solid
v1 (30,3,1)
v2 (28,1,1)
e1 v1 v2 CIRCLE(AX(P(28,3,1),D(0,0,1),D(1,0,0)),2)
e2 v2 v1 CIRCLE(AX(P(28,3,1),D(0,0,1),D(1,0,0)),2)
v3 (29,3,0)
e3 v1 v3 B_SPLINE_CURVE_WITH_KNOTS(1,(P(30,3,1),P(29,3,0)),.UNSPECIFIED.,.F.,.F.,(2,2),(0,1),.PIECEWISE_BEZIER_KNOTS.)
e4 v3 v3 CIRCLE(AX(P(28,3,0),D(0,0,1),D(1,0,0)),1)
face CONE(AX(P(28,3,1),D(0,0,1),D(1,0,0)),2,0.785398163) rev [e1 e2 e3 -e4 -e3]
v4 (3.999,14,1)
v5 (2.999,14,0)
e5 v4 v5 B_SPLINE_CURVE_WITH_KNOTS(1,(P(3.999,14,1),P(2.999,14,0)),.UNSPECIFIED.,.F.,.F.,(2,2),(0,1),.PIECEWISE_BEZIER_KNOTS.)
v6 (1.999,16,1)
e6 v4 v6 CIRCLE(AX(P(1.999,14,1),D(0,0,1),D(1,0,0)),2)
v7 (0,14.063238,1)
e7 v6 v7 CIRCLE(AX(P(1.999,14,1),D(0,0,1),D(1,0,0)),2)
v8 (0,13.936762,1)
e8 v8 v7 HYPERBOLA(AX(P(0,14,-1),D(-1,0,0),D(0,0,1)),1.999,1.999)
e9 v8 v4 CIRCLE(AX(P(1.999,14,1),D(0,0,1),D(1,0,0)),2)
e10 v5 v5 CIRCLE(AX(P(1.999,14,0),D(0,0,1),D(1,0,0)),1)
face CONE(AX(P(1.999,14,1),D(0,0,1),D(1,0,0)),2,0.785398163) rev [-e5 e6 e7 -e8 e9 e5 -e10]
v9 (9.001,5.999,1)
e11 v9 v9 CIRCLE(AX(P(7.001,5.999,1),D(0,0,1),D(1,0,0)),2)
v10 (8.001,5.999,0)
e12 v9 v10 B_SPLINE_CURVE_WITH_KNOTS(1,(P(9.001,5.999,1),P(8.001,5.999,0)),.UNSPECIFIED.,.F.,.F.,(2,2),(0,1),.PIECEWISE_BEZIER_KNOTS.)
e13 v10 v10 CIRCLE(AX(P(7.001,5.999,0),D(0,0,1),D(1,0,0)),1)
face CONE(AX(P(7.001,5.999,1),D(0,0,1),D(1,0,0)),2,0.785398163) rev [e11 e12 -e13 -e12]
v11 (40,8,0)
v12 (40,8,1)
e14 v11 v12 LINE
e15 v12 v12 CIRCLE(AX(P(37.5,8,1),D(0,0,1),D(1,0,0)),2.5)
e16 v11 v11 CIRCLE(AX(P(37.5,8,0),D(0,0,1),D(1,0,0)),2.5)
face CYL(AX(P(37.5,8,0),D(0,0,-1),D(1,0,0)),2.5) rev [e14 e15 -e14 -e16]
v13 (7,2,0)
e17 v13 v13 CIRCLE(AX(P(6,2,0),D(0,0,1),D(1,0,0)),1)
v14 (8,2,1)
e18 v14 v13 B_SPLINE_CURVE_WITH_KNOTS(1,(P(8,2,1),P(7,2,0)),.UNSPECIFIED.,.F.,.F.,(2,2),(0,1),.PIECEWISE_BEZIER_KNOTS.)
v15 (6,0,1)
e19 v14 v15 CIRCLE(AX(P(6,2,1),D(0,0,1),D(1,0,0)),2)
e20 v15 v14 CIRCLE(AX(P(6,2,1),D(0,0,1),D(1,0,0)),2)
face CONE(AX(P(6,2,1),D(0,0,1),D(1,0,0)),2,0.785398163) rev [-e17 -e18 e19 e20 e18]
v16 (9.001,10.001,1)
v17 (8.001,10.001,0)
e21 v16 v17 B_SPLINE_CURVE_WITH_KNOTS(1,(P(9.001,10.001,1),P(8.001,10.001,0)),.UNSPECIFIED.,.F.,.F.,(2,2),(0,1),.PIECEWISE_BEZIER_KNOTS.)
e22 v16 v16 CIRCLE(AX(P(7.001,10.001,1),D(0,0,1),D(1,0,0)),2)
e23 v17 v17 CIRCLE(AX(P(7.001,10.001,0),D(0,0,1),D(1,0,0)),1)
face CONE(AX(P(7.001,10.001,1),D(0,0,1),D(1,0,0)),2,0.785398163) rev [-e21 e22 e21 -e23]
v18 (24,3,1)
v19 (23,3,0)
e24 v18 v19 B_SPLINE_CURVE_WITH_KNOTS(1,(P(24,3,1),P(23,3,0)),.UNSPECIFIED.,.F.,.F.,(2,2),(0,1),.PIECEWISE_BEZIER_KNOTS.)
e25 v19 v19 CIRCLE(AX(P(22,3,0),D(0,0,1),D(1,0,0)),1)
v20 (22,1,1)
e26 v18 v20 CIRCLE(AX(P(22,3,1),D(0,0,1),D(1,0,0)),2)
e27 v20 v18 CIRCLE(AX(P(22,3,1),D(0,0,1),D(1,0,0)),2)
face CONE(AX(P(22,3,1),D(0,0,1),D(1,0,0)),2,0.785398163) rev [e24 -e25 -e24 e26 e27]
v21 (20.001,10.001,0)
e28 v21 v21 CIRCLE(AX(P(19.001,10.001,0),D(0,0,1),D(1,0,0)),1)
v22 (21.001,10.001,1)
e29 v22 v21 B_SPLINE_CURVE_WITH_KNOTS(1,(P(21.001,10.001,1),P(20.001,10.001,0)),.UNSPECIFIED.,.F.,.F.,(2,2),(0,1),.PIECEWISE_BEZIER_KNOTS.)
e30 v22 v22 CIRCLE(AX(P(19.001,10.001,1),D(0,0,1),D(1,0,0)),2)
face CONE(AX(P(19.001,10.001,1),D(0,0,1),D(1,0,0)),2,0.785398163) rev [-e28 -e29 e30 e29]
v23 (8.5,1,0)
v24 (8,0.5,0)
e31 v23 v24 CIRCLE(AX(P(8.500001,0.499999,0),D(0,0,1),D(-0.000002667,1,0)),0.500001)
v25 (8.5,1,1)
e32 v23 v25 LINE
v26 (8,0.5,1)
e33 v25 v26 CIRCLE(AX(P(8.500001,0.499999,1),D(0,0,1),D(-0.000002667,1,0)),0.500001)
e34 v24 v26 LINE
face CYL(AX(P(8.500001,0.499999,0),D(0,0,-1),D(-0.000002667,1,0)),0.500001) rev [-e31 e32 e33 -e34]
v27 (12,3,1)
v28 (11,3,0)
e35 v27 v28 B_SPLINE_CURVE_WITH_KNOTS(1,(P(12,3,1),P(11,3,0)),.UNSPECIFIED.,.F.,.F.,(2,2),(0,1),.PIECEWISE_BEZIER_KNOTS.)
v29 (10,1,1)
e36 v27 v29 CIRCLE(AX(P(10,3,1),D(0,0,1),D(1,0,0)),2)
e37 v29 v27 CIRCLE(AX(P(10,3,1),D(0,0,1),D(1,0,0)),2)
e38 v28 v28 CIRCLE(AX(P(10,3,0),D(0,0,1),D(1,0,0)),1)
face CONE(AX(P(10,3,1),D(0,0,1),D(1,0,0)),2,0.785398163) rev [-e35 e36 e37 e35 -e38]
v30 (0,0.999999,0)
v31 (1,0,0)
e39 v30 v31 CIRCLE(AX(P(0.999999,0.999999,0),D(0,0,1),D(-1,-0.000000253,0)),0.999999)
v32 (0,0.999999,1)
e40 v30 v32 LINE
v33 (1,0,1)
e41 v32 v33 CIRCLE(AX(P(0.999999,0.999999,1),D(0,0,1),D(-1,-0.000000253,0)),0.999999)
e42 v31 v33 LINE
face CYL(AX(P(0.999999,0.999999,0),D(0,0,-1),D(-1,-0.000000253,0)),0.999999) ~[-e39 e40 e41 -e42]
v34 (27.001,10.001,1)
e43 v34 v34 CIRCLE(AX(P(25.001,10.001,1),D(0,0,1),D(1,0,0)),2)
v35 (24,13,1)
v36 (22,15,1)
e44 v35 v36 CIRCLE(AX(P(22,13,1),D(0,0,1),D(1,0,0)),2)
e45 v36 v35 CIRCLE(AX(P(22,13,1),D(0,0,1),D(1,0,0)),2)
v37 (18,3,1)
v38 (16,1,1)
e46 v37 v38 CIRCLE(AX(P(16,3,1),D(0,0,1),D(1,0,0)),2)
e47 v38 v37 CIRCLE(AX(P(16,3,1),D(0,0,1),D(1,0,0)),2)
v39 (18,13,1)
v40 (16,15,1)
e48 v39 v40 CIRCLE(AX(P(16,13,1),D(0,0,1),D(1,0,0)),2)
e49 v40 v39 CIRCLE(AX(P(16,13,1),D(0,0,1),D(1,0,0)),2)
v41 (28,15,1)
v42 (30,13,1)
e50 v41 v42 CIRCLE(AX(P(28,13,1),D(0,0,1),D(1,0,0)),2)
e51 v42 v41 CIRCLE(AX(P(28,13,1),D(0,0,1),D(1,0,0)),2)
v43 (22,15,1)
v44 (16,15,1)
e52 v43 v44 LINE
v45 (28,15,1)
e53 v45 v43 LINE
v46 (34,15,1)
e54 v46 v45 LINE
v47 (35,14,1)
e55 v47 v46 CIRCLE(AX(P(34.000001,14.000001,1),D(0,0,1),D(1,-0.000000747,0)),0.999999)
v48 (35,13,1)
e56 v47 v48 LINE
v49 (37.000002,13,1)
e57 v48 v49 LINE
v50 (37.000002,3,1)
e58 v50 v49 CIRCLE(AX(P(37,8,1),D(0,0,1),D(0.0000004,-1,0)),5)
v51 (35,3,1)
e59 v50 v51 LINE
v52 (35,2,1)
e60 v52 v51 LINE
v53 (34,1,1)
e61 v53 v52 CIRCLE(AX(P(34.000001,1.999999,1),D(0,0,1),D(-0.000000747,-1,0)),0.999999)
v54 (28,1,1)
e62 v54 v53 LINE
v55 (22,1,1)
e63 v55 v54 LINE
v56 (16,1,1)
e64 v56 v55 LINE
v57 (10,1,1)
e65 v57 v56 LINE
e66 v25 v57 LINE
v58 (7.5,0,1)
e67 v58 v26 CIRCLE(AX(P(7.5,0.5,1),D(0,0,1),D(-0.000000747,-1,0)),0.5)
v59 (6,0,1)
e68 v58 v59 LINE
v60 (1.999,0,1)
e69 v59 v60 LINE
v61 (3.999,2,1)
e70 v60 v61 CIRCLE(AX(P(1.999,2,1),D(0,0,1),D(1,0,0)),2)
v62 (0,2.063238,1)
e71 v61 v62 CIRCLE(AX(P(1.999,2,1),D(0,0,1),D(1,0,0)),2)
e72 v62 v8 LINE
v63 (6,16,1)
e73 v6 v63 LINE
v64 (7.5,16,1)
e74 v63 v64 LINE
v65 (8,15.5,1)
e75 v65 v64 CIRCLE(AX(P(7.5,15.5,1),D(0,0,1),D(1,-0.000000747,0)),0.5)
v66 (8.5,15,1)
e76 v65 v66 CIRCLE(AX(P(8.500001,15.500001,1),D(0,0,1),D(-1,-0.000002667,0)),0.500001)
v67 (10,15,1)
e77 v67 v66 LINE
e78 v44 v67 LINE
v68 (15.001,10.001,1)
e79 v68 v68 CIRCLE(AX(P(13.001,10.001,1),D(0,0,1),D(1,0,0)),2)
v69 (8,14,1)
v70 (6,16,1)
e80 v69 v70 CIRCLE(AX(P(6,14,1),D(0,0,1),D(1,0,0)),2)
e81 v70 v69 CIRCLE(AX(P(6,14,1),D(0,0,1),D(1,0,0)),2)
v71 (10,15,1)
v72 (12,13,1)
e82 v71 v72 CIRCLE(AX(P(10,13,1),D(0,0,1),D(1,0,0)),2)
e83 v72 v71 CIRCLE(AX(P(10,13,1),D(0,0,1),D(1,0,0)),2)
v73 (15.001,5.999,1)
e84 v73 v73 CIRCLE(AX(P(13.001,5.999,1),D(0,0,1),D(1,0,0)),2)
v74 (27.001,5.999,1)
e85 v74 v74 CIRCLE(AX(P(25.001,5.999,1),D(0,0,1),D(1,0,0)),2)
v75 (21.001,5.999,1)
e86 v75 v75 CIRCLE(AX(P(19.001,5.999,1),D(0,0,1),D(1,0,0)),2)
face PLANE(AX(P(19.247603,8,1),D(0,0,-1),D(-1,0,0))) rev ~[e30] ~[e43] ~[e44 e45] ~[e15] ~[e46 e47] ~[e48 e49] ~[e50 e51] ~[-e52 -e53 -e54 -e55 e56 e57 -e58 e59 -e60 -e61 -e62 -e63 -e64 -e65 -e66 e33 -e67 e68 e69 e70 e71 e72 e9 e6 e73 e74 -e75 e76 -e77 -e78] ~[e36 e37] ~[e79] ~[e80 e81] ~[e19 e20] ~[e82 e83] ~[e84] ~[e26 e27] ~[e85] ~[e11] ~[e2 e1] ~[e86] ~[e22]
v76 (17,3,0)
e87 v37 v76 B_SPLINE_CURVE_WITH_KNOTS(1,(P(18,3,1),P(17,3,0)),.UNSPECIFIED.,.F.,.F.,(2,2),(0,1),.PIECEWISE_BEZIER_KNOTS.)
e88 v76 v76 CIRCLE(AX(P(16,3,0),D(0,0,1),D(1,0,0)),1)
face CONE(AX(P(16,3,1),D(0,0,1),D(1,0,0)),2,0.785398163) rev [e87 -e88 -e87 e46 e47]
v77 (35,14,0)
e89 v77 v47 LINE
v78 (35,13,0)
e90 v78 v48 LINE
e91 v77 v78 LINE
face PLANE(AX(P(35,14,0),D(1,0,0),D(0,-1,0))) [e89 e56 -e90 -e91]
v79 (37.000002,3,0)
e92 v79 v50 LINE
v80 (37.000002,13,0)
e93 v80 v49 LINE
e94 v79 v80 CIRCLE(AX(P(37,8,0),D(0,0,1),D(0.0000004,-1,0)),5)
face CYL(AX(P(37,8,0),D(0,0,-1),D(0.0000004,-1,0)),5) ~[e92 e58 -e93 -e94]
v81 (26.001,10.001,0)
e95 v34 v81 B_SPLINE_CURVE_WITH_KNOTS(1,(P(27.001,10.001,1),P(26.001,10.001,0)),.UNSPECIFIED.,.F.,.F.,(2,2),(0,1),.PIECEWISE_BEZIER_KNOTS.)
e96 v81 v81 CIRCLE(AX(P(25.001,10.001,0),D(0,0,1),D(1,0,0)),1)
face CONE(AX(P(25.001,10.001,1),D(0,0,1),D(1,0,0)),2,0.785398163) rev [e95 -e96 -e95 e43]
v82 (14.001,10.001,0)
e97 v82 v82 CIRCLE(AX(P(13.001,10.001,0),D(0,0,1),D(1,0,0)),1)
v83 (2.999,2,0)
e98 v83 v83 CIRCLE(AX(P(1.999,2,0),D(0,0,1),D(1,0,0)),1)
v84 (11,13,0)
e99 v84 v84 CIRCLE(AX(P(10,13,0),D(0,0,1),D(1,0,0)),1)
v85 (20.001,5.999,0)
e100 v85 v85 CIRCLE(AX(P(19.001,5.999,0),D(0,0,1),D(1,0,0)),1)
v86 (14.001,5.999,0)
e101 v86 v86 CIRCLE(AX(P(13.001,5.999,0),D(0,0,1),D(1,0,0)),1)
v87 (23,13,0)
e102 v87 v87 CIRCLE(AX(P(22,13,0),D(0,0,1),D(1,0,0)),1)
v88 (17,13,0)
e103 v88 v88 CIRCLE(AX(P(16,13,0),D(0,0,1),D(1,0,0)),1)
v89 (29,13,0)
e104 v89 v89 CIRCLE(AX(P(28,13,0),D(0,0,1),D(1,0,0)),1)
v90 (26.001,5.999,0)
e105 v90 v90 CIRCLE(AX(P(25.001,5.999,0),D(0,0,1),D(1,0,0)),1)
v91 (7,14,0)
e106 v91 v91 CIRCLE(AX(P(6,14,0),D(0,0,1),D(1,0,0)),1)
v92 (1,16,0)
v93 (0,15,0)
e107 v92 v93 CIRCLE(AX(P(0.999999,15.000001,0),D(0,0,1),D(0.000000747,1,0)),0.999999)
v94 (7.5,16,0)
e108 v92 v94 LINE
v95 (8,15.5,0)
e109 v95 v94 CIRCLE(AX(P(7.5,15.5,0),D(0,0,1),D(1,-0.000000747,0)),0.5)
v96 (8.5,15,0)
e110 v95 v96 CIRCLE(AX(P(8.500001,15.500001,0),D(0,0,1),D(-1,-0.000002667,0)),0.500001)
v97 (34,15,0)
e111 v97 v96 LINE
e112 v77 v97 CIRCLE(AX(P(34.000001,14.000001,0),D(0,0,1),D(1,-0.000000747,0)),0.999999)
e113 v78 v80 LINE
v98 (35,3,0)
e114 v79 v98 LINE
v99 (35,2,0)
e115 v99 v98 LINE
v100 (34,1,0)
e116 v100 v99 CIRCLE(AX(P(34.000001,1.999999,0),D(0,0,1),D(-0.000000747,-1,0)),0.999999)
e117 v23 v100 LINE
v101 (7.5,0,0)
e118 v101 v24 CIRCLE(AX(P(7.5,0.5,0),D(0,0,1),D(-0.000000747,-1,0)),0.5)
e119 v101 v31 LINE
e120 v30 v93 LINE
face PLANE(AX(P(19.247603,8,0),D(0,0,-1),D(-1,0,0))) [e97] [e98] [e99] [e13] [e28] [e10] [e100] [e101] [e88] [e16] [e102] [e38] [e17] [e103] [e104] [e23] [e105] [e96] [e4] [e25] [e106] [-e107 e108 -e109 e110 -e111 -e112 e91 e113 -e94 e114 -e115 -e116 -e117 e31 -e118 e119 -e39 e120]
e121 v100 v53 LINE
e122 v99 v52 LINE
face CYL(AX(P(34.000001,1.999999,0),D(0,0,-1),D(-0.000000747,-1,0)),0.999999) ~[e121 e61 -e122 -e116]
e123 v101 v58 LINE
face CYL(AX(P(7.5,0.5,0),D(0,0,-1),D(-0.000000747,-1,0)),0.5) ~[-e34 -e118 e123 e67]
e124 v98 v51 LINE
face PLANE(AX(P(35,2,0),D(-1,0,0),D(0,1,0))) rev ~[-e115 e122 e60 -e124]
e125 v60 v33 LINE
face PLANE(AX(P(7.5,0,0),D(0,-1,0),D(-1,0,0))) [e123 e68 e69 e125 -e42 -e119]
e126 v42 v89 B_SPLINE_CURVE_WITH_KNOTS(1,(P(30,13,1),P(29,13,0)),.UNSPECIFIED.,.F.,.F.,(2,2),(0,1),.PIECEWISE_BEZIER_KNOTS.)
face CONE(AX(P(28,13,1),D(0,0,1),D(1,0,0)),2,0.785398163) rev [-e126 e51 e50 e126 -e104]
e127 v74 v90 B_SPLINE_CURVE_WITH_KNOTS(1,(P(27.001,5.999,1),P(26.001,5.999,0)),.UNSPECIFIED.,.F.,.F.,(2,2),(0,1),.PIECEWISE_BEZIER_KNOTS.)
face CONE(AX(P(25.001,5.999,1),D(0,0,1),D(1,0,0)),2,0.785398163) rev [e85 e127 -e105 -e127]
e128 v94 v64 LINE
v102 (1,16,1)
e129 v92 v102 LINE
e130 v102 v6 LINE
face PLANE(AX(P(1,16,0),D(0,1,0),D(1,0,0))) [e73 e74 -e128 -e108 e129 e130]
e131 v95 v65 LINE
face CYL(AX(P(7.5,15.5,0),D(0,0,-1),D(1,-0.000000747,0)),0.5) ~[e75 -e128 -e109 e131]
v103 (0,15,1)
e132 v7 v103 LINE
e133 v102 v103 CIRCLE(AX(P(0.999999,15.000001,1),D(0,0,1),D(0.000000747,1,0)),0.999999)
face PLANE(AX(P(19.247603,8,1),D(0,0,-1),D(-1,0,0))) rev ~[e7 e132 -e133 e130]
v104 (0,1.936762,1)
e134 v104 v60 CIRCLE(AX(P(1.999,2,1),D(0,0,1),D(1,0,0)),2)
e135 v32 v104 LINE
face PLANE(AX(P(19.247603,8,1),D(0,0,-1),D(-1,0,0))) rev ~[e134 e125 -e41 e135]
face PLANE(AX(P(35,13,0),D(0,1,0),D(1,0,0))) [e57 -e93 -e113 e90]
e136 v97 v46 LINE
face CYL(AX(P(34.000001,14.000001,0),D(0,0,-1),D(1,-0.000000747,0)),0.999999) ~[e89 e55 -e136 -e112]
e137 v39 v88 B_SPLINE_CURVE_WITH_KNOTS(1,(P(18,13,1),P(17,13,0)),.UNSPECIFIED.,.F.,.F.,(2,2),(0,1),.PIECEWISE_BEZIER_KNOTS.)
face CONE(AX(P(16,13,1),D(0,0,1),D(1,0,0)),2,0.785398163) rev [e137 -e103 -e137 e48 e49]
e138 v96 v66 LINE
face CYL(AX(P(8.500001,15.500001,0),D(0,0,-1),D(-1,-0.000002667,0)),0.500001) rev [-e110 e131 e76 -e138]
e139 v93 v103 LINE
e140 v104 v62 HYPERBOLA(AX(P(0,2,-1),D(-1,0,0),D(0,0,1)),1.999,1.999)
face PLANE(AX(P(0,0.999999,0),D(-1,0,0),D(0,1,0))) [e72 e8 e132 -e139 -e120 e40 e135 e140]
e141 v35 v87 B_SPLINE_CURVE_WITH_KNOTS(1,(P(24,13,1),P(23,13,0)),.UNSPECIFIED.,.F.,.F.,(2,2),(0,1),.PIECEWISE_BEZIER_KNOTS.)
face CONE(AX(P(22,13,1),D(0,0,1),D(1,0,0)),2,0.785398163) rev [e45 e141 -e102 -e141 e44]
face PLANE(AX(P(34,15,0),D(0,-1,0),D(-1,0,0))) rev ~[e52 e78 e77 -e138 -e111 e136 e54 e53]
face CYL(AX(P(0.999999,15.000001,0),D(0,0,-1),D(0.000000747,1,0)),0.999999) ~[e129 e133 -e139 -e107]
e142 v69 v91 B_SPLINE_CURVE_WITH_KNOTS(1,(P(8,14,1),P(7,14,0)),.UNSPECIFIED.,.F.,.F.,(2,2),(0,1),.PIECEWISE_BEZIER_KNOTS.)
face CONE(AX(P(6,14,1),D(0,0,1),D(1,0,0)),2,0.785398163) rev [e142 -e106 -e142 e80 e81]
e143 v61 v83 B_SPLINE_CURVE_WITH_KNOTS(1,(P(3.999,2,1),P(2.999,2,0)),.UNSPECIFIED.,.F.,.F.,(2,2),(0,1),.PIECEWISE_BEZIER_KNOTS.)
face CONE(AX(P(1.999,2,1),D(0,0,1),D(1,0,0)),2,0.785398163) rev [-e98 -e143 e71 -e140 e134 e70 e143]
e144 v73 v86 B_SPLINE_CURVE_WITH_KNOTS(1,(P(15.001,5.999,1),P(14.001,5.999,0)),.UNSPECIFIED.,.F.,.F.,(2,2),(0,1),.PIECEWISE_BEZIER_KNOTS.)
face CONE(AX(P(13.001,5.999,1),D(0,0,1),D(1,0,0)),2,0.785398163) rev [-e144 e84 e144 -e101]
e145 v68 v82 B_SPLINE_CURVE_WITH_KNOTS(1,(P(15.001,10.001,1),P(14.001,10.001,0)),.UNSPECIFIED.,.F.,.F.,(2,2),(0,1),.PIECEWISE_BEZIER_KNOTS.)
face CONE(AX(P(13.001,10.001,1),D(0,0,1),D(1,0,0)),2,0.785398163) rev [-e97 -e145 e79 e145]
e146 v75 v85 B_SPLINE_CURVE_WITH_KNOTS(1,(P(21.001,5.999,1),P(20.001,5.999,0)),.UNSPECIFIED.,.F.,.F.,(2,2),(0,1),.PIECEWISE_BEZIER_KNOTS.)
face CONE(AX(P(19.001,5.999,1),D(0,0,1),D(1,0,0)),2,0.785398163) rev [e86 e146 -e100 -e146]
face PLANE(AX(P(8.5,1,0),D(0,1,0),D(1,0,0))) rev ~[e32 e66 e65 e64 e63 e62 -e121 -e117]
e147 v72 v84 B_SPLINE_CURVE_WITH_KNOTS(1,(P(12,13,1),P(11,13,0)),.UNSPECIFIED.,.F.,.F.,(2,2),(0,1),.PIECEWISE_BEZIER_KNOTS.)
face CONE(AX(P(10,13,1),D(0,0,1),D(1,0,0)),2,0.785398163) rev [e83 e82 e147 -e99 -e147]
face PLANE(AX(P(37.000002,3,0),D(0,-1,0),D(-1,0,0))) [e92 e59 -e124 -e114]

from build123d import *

# Parameters (mm, degrees)
SKETCH001_R      = 2.5
EXTRUDE001_DEPTH = 1
SKETCH035_R      = 2
SKETCH036_R      = 1
SKETCH040_R      = 2
SKETCH038_R      = 1
SKETCH041_R      = 2
SKETCH039_R      = 1
SKETCH037_R      = 2
SKETCH034_R      = 1
SKETCH017_R      = 2
SKETCH016_R      = 1
SKETCH011_R      = 2
SKETCH010_R      = 1
SKETCH025_R      = 2
SKETCH024_R      = 1
SKETCH019_R      = 2
SKETCH018_R      = 1
SKETCH015_R      = 2
SKETCH014_R      = 1
SKETCH023_R      = 2
SKETCH022_R      = 1
SKETCH021_R      = 2
SKETCH020_R      = 1
SKETCH013_R      = 2
SKETCH012_R      = 1
SKETCH029_R      = 2
SKETCH028_R      = 1
SKETCH031_R      = 2
SKETCH030_R      = 1
SKETCH033_R      = 2
SKETCH032_R      = 1
SKETCH027_R      = 2
SKETCH026_R      = 1
SKETCH005_R      = 2
SKETCH004_R      = 1
SKETCH009_R      = 2
SKETCH008_R      = 1
SKETCH002_R      = 2
SKETCH003_R      = 1
SKETCH007_R      = 2
SKETCH006_R      = 1
EXTRUDE_DEPTH    = 1


with BuildPart() as extrude001:
    # Sketch001 → Extrude001 (new body)
    with BuildSketch(Plane(origin=(-2, 0, 0), x_dir=(1, 0, 0), z_dir=(0, 0, 1))):
        with Locations((39.5, 8)):
            Circle(SKETCH001_R)
    extrude(amount=EXTRUDE001_DEPTH)


with BuildPart() as loft017:
    # Sketch035 → Loft017 section 0
    with BuildSketch(Plane.XY.offset(1)):
        with Locations((2, 2)):
            Circle(SKETCH035_R)
    # Sketch036 → Loft017 section 1
    with BuildSketch(Plane.XY):
        with Locations((2, 2)):
            Circle(SKETCH036_R)
    loft()


with BuildPart() as loft017_1:
    # Loft017 placement: moved
    add(loft017.part.moved(Location((14, 11, 0))))


with BuildPart() as loft018:
    # Sketch040 → Loft018 section 0
    with BuildSketch(Plane.XY.offset(1)):
        with Locations((2, 2)):
            Circle(SKETCH040_R)
    # Sketch038 → Loft018 section 1
    with BuildSketch(Plane.XY):
        with Locations((2, 2)):
            Circle(SKETCH038_R)
    loft()


with BuildPart() as loft018_1:
    # Loft018 placement: moved
    add(loft018.part.moved(Location((20, 11, 0))))


with BuildPart() as loft019:
    # Sketch041 → Loft019 section 0
    with BuildSketch(Plane.XY.offset(1)):
        with Locations((2, 2)):
            Circle(SKETCH041_R)
    # Sketch039 → Loft019 section 1
    with BuildSketch(Plane.XY):
        with Locations((2, 2)):
            Circle(SKETCH039_R)
    loft()


with BuildPart() as loft019_1:
    # Loft019 placement: moved
    add(loft019.part.moved(Location((26, 11, 0))))


with BuildPart() as fusion001:
    # Sketch037 → Loft016 section 0
    with BuildSketch(Plane.XY.offset(1)):
        with Locations((2, 2)):
            Circle(SKETCH037_R)
    # Sketch034 → Loft016 section 1
    with BuildSketch(Plane.XY):
        with Locations((2, 2)):
            Circle(SKETCH034_R)
    loft()


with BuildPart() as fusion001_1:
    # Loft016 placement: moved
    add(fusion001.part.moved(Location((8, 11, 0))))

    # Fusion001: union Loft017, Loft018, Loft019
    add(loft017_1.part)
    add(loft018_1.part)
    add(loft019_1.part)


with BuildPart() as loft007:
    # Sketch017 → Loft007 section 0
    with BuildSketch(Plane.XY.offset(1)):
        with Locations((2, 2)):
            Circle(SKETCH017_R)
    # Sketch016 → Loft007 section 1
    with BuildSketch(Plane.XY):
        with Locations((2, 2)):
            Circle(SKETCH016_R)
    loft()


with BuildPart() as loft007_1:
    # Loft007 placement: moved
    add(loft007.part.moved(Location((11, 4, 0))))


with BuildPart() as loft004:
    # Sketch011 → Loft004 section 0
    with BuildSketch(Plane.XY.offset(1)):
        with Locations((2, 2)):
            Circle(SKETCH011_R)
    # Sketch010 → Loft004 section 1
    with BuildSketch(Plane.XY):
        with Locations((2, 2)):
            Circle(SKETCH010_R)
    loft()


with BuildPart() as loft004_1:
    # Loft004 placement: moved
    add(loft004.part.moved(Location((5, 4, 0))))


with BuildPart() as loft011:
    # Sketch025 → Loft011 section 0
    with BuildSketch(Plane.XY.offset(1)):
        with Locations((2, 2)):
            Circle(SKETCH025_R)
    # Sketch024 → Loft011 section 1
    with BuildSketch(Plane.XY):
        with Locations((2, 2)):
            Circle(SKETCH024_R)
    loft()


with BuildPart() as loft011_1:
    # Loft011 placement: moved
    add(loft011.part.moved(Location((23, 4, 0))))


with BuildPart() as fusion003:
    # Sketch019 → Loft008 section 0
    with BuildSketch(Plane.XY.offset(1)):
        with Locations((2, 2)):
            Circle(SKETCH019_R)
    # Sketch018 → Loft008 section 1
    with BuildSketch(Plane.XY):
        with Locations((2, 2)):
            Circle(SKETCH018_R)
    loft()


with BuildPart() as fusion003_1:
    # Loft008 placement: moved
    add(fusion003.part.moved(Location((17, 4, 0))))

    # Fusion003: union Loft007, Loft004, Loft011
    add(loft007_1.part)
    add(loft004_1.part)
    add(loft011_1.part)


with BuildPart() as fusion003_2:
    # Fusion003 placement: moved
    add(fusion003_1.part.moved(Location((0.001, -0.001, 0))))


with BuildPart() as loft006:
    # Sketch015 → Loft006 section 0
    with BuildSketch(Plane.XY.offset(1)):
        with Locations((2, 2)):
            Circle(SKETCH015_R)
    # Sketch014 → Loft006 section 1
    with BuildSketch(Plane.XY):
        with Locations((2, 2)):
            Circle(SKETCH014_R)
    loft()


with BuildPart() as loft006_1:
    # Loft006 placement: moved
    add(loft006.part.moved(Location((11, 8, 0))))


with BuildPart() as loft010:
    # Sketch023 → Loft010 section 0
    with BuildSketch(Plane.XY.offset(1)):
        with Locations((2, 2)):
            Circle(SKETCH023_R)
    # Sketch022 → Loft010 section 1
    with BuildSketch(Plane.XY):
        with Locations((2, 2)):
            Circle(SKETCH022_R)
    loft()


with BuildPart() as loft010_1:
    # Loft010 placement: moved
    add(loft010.part.moved(Location((23, 8, 0))))


with BuildPart() as loft009:
    # Sketch021 → Loft009 section 0
    with BuildSketch(Plane.XY.offset(1)):
        with Locations((2, 2)):
            Circle(SKETCH021_R)
    # Sketch020 → Loft009 section 1
    with BuildSketch(Plane.XY):
        with Locations((2, 2)):
            Circle(SKETCH020_R)
    loft()


with BuildPart() as loft009_1:
    # Loft009 placement: moved
    add(loft009.part.moved(Location((17, 8, 0))))


with BuildPart() as fusion007:
    # Sketch013 → Loft005 section 0
    with BuildSketch(Plane.XY.offset(1)):
        with Locations((2, 2)):
            Circle(SKETCH013_R)
    # Sketch012 → Loft005 section 1
    with BuildSketch(Plane.XY):
        with Locations((2, 2)):
            Circle(SKETCH012_R)
    loft()


with BuildPart() as fusion007_1:
    # Loft005 placement: moved
    add(fusion007.part.moved(Location((5, 8, 0))))

    # Fusion002: union Loft006, Loft010, Loft009
    add(loft006_1.part)
    add(loft010_1.part)
    add(loft009_1.part)


with BuildPart() as fusion007_2:
    # Fusion002 placement: moved
    add(fusion007_1.part.moved(Location((0.001, 0.001, 0))))

    # Fusion007: union Fusion003
    add(fusion003_2.part)


with BuildPart() as loft013:
    # Sketch029 → Loft013 section 0
    with BuildSketch(Plane.XY.offset(1)):
        with Locations((2, 2)):
            Circle(SKETCH029_R)
    # Sketch028 → Loft013 section 1
    with BuildSketch(Plane.XY):
        with Locations((2, 2)):
            Circle(SKETCH028_R)
    loft()


with BuildPart() as loft013_1:
    # Loft013 placement: moved
    add(loft013.part.moved(Location((14, 1, 0))))


with BuildPart() as loft014:
    # Sketch031 → Loft014 section 0
    with BuildSketch(Plane.XY.offset(1)):
        with Locations((2, 2)):
            Circle(SKETCH031_R)
    # Sketch030 → Loft014 section 1
    with BuildSketch(Plane.XY):
        with Locations((2, 2)):
            Circle(SKETCH030_R)
    loft()


with BuildPart() as loft014_1:
    # Loft014 placement: moved
    add(loft014.part.moved(Location((20, 1, 0))))


with BuildPart() as loft015:
    # Sketch033 → Loft015 section 0
    with BuildSketch(Plane.XY.offset(1)):
        with Locations((2, 2)):
            Circle(SKETCH033_R)
    # Sketch032 → Loft015 section 1
    with BuildSketch(Plane.XY):
        with Locations((2, 2)):
            Circle(SKETCH032_R)
    loft()


with BuildPart() as loft015_1:
    # Loft015 placement: moved
    add(loft015.part.moved(Location((26, 1, 0))))


with BuildPart() as fusion:
    # Sketch027 → Loft012 section 0
    with BuildSketch(Plane.XY.offset(1)):
        with Locations((2, 2)):
            Circle(SKETCH027_R)
    # Sketch026 → Loft012 section 1
    with BuildSketch(Plane.XY):
        with Locations((2, 2)):
            Circle(SKETCH026_R)
    loft()


with BuildPart() as fusion_1:
    # Loft012 placement: moved
    add(fusion.part.moved(Location((8, 1, 0))))

    # Fusion: union Loft013, Loft014, Loft015
    add(loft013_1.part)
    add(loft014_1.part)
    add(loft015_1.part)


with BuildPart() as loft001:
    # Sketch005 → Loft001 section 0
    with BuildSketch(Plane.XY.offset(1)):
        with Locations((2, 2)):
            Circle(SKETCH005_R)
    # Sketch004 → Loft001 section 1
    with BuildSketch(Plane.XY):
        with Locations((2, 2)):
            Circle(SKETCH004_R)
    loft()


with BuildPart() as loft001_1:
    # Loft001 placement: moved
    add(loft001.part.moved(Location((4, 0, 0))))


with BuildPart() as fusion004:
    # Sketch009 → Loft002 section 0
    with BuildSketch(Plane.XY.offset(1)):
        with Locations((2, 2)):
            Circle(SKETCH009_R)
    # Sketch008 → Loft002 section 1
    with BuildSketch(Plane.XY):
        with Locations((2, 2)):
            Circle(SKETCH008_R)
    loft()


with BuildPart() as fusion004_1:
    # Loft002 placement: moved
    add(fusion004.part.moved(Location((4, 12, 0))))

    # Fusion004: union Loft001
    add(loft001_1.part)


with BuildPart() as loft_body:
    # Sketch002 → Loft section 0
    with BuildSketch(Plane.XY.offset(1)):
        with Locations((2, 2)):
            Circle(SKETCH002_R)
    # Sketch003 → Loft section 1
    with BuildSketch(Plane.XY):
        with Locations((2, 2)):
            Circle(SKETCH003_R)
    loft()


with BuildPart() as fusion008:
    # Sketch007 → Loft003 section 0
    with BuildSketch(Plane.XY.offset(1)):
        with Locations((2, 2)):
            Circle(SKETCH007_R)
    # Sketch006 → Loft003 section 1
    with BuildSketch(Plane.XY):
        with Locations((2, 2)):
            Circle(SKETCH006_R)
    loft()


with BuildPart() as fusion008_1:
    # Loft003 placement: moved
    add(fusion008.part.moved(Location((0, 12, 0))))

    # Fusion005: union Loft body
    add(loft_body.part)


with BuildPart() as fusion008_2:
    # Fusion005 placement: moved
    add(fusion008_1.part.moved(Location((-0.001, 0, 0))))

    # Fusion006: union Fusion004
    add(fusion004_1.part)

    # Fusion008: union Fusion001, Fusion007, Fusion
    add(fusion001_1.part)
    add(fusion007_2.part)
    add(fusion_1.part)


with BuildPart() as sc8000_c:
    # Sketch → Extrude (new body)
    with BuildSketch(Plane.XY):
        with BuildLine():
            Line((0, 0.999999), (0, 15))
            ThreePointArc((1, 16), (0.292893, 15.707107), (0, 15))
            Line((1, 16), (7.5, 16))
            ThreePointArc((8, 15.5), (7.853553, 15.853554), (7.5, 16))
            ThreePointArc((8, 15.5), (8.146447, 15.146447), (8.5, 15))
            Line((34, 15), (8.5, 15))
            ThreePointArc((35, 14), (34.707107, 14.707107), (34, 15))
            Line((35, 14), (35, 13))
            Line((35, 13), (37.000002, 13))
            ThreePointArc((37.000002, 3), (42, 8), (37.000002, 13))
            Line((37.000002, 3), (35, 3))
            Line((35, 2), (35, 3))
            ThreePointArc((34, 1), (34.707107, 1.292893), (35, 2))
            Line((8.5, 1), (34, 1))
            ThreePointArc((8.5, 1), (8.146447, 0.853553), (8, 0.5))
            ThreePointArc((7.5, 0), (7.853553, 0.146446), (8, 0.5))
            Line((7.5, 0), (1, 0))
            ThreePointArc((0, 0.999999), (0.292893, 0.292893), (1, 0))
        make_face()
    extrude(amount=EXTRUDE_DEPTH)

    # Cut: cut Fusion008
    add(fusion008_2.part, mode=Mode.SUBTRACT)

    # Cut001: cut Extrude001
    add(extrude001.part, mode=Mode.SUBTRACT)


solid = sc8000_c.part
